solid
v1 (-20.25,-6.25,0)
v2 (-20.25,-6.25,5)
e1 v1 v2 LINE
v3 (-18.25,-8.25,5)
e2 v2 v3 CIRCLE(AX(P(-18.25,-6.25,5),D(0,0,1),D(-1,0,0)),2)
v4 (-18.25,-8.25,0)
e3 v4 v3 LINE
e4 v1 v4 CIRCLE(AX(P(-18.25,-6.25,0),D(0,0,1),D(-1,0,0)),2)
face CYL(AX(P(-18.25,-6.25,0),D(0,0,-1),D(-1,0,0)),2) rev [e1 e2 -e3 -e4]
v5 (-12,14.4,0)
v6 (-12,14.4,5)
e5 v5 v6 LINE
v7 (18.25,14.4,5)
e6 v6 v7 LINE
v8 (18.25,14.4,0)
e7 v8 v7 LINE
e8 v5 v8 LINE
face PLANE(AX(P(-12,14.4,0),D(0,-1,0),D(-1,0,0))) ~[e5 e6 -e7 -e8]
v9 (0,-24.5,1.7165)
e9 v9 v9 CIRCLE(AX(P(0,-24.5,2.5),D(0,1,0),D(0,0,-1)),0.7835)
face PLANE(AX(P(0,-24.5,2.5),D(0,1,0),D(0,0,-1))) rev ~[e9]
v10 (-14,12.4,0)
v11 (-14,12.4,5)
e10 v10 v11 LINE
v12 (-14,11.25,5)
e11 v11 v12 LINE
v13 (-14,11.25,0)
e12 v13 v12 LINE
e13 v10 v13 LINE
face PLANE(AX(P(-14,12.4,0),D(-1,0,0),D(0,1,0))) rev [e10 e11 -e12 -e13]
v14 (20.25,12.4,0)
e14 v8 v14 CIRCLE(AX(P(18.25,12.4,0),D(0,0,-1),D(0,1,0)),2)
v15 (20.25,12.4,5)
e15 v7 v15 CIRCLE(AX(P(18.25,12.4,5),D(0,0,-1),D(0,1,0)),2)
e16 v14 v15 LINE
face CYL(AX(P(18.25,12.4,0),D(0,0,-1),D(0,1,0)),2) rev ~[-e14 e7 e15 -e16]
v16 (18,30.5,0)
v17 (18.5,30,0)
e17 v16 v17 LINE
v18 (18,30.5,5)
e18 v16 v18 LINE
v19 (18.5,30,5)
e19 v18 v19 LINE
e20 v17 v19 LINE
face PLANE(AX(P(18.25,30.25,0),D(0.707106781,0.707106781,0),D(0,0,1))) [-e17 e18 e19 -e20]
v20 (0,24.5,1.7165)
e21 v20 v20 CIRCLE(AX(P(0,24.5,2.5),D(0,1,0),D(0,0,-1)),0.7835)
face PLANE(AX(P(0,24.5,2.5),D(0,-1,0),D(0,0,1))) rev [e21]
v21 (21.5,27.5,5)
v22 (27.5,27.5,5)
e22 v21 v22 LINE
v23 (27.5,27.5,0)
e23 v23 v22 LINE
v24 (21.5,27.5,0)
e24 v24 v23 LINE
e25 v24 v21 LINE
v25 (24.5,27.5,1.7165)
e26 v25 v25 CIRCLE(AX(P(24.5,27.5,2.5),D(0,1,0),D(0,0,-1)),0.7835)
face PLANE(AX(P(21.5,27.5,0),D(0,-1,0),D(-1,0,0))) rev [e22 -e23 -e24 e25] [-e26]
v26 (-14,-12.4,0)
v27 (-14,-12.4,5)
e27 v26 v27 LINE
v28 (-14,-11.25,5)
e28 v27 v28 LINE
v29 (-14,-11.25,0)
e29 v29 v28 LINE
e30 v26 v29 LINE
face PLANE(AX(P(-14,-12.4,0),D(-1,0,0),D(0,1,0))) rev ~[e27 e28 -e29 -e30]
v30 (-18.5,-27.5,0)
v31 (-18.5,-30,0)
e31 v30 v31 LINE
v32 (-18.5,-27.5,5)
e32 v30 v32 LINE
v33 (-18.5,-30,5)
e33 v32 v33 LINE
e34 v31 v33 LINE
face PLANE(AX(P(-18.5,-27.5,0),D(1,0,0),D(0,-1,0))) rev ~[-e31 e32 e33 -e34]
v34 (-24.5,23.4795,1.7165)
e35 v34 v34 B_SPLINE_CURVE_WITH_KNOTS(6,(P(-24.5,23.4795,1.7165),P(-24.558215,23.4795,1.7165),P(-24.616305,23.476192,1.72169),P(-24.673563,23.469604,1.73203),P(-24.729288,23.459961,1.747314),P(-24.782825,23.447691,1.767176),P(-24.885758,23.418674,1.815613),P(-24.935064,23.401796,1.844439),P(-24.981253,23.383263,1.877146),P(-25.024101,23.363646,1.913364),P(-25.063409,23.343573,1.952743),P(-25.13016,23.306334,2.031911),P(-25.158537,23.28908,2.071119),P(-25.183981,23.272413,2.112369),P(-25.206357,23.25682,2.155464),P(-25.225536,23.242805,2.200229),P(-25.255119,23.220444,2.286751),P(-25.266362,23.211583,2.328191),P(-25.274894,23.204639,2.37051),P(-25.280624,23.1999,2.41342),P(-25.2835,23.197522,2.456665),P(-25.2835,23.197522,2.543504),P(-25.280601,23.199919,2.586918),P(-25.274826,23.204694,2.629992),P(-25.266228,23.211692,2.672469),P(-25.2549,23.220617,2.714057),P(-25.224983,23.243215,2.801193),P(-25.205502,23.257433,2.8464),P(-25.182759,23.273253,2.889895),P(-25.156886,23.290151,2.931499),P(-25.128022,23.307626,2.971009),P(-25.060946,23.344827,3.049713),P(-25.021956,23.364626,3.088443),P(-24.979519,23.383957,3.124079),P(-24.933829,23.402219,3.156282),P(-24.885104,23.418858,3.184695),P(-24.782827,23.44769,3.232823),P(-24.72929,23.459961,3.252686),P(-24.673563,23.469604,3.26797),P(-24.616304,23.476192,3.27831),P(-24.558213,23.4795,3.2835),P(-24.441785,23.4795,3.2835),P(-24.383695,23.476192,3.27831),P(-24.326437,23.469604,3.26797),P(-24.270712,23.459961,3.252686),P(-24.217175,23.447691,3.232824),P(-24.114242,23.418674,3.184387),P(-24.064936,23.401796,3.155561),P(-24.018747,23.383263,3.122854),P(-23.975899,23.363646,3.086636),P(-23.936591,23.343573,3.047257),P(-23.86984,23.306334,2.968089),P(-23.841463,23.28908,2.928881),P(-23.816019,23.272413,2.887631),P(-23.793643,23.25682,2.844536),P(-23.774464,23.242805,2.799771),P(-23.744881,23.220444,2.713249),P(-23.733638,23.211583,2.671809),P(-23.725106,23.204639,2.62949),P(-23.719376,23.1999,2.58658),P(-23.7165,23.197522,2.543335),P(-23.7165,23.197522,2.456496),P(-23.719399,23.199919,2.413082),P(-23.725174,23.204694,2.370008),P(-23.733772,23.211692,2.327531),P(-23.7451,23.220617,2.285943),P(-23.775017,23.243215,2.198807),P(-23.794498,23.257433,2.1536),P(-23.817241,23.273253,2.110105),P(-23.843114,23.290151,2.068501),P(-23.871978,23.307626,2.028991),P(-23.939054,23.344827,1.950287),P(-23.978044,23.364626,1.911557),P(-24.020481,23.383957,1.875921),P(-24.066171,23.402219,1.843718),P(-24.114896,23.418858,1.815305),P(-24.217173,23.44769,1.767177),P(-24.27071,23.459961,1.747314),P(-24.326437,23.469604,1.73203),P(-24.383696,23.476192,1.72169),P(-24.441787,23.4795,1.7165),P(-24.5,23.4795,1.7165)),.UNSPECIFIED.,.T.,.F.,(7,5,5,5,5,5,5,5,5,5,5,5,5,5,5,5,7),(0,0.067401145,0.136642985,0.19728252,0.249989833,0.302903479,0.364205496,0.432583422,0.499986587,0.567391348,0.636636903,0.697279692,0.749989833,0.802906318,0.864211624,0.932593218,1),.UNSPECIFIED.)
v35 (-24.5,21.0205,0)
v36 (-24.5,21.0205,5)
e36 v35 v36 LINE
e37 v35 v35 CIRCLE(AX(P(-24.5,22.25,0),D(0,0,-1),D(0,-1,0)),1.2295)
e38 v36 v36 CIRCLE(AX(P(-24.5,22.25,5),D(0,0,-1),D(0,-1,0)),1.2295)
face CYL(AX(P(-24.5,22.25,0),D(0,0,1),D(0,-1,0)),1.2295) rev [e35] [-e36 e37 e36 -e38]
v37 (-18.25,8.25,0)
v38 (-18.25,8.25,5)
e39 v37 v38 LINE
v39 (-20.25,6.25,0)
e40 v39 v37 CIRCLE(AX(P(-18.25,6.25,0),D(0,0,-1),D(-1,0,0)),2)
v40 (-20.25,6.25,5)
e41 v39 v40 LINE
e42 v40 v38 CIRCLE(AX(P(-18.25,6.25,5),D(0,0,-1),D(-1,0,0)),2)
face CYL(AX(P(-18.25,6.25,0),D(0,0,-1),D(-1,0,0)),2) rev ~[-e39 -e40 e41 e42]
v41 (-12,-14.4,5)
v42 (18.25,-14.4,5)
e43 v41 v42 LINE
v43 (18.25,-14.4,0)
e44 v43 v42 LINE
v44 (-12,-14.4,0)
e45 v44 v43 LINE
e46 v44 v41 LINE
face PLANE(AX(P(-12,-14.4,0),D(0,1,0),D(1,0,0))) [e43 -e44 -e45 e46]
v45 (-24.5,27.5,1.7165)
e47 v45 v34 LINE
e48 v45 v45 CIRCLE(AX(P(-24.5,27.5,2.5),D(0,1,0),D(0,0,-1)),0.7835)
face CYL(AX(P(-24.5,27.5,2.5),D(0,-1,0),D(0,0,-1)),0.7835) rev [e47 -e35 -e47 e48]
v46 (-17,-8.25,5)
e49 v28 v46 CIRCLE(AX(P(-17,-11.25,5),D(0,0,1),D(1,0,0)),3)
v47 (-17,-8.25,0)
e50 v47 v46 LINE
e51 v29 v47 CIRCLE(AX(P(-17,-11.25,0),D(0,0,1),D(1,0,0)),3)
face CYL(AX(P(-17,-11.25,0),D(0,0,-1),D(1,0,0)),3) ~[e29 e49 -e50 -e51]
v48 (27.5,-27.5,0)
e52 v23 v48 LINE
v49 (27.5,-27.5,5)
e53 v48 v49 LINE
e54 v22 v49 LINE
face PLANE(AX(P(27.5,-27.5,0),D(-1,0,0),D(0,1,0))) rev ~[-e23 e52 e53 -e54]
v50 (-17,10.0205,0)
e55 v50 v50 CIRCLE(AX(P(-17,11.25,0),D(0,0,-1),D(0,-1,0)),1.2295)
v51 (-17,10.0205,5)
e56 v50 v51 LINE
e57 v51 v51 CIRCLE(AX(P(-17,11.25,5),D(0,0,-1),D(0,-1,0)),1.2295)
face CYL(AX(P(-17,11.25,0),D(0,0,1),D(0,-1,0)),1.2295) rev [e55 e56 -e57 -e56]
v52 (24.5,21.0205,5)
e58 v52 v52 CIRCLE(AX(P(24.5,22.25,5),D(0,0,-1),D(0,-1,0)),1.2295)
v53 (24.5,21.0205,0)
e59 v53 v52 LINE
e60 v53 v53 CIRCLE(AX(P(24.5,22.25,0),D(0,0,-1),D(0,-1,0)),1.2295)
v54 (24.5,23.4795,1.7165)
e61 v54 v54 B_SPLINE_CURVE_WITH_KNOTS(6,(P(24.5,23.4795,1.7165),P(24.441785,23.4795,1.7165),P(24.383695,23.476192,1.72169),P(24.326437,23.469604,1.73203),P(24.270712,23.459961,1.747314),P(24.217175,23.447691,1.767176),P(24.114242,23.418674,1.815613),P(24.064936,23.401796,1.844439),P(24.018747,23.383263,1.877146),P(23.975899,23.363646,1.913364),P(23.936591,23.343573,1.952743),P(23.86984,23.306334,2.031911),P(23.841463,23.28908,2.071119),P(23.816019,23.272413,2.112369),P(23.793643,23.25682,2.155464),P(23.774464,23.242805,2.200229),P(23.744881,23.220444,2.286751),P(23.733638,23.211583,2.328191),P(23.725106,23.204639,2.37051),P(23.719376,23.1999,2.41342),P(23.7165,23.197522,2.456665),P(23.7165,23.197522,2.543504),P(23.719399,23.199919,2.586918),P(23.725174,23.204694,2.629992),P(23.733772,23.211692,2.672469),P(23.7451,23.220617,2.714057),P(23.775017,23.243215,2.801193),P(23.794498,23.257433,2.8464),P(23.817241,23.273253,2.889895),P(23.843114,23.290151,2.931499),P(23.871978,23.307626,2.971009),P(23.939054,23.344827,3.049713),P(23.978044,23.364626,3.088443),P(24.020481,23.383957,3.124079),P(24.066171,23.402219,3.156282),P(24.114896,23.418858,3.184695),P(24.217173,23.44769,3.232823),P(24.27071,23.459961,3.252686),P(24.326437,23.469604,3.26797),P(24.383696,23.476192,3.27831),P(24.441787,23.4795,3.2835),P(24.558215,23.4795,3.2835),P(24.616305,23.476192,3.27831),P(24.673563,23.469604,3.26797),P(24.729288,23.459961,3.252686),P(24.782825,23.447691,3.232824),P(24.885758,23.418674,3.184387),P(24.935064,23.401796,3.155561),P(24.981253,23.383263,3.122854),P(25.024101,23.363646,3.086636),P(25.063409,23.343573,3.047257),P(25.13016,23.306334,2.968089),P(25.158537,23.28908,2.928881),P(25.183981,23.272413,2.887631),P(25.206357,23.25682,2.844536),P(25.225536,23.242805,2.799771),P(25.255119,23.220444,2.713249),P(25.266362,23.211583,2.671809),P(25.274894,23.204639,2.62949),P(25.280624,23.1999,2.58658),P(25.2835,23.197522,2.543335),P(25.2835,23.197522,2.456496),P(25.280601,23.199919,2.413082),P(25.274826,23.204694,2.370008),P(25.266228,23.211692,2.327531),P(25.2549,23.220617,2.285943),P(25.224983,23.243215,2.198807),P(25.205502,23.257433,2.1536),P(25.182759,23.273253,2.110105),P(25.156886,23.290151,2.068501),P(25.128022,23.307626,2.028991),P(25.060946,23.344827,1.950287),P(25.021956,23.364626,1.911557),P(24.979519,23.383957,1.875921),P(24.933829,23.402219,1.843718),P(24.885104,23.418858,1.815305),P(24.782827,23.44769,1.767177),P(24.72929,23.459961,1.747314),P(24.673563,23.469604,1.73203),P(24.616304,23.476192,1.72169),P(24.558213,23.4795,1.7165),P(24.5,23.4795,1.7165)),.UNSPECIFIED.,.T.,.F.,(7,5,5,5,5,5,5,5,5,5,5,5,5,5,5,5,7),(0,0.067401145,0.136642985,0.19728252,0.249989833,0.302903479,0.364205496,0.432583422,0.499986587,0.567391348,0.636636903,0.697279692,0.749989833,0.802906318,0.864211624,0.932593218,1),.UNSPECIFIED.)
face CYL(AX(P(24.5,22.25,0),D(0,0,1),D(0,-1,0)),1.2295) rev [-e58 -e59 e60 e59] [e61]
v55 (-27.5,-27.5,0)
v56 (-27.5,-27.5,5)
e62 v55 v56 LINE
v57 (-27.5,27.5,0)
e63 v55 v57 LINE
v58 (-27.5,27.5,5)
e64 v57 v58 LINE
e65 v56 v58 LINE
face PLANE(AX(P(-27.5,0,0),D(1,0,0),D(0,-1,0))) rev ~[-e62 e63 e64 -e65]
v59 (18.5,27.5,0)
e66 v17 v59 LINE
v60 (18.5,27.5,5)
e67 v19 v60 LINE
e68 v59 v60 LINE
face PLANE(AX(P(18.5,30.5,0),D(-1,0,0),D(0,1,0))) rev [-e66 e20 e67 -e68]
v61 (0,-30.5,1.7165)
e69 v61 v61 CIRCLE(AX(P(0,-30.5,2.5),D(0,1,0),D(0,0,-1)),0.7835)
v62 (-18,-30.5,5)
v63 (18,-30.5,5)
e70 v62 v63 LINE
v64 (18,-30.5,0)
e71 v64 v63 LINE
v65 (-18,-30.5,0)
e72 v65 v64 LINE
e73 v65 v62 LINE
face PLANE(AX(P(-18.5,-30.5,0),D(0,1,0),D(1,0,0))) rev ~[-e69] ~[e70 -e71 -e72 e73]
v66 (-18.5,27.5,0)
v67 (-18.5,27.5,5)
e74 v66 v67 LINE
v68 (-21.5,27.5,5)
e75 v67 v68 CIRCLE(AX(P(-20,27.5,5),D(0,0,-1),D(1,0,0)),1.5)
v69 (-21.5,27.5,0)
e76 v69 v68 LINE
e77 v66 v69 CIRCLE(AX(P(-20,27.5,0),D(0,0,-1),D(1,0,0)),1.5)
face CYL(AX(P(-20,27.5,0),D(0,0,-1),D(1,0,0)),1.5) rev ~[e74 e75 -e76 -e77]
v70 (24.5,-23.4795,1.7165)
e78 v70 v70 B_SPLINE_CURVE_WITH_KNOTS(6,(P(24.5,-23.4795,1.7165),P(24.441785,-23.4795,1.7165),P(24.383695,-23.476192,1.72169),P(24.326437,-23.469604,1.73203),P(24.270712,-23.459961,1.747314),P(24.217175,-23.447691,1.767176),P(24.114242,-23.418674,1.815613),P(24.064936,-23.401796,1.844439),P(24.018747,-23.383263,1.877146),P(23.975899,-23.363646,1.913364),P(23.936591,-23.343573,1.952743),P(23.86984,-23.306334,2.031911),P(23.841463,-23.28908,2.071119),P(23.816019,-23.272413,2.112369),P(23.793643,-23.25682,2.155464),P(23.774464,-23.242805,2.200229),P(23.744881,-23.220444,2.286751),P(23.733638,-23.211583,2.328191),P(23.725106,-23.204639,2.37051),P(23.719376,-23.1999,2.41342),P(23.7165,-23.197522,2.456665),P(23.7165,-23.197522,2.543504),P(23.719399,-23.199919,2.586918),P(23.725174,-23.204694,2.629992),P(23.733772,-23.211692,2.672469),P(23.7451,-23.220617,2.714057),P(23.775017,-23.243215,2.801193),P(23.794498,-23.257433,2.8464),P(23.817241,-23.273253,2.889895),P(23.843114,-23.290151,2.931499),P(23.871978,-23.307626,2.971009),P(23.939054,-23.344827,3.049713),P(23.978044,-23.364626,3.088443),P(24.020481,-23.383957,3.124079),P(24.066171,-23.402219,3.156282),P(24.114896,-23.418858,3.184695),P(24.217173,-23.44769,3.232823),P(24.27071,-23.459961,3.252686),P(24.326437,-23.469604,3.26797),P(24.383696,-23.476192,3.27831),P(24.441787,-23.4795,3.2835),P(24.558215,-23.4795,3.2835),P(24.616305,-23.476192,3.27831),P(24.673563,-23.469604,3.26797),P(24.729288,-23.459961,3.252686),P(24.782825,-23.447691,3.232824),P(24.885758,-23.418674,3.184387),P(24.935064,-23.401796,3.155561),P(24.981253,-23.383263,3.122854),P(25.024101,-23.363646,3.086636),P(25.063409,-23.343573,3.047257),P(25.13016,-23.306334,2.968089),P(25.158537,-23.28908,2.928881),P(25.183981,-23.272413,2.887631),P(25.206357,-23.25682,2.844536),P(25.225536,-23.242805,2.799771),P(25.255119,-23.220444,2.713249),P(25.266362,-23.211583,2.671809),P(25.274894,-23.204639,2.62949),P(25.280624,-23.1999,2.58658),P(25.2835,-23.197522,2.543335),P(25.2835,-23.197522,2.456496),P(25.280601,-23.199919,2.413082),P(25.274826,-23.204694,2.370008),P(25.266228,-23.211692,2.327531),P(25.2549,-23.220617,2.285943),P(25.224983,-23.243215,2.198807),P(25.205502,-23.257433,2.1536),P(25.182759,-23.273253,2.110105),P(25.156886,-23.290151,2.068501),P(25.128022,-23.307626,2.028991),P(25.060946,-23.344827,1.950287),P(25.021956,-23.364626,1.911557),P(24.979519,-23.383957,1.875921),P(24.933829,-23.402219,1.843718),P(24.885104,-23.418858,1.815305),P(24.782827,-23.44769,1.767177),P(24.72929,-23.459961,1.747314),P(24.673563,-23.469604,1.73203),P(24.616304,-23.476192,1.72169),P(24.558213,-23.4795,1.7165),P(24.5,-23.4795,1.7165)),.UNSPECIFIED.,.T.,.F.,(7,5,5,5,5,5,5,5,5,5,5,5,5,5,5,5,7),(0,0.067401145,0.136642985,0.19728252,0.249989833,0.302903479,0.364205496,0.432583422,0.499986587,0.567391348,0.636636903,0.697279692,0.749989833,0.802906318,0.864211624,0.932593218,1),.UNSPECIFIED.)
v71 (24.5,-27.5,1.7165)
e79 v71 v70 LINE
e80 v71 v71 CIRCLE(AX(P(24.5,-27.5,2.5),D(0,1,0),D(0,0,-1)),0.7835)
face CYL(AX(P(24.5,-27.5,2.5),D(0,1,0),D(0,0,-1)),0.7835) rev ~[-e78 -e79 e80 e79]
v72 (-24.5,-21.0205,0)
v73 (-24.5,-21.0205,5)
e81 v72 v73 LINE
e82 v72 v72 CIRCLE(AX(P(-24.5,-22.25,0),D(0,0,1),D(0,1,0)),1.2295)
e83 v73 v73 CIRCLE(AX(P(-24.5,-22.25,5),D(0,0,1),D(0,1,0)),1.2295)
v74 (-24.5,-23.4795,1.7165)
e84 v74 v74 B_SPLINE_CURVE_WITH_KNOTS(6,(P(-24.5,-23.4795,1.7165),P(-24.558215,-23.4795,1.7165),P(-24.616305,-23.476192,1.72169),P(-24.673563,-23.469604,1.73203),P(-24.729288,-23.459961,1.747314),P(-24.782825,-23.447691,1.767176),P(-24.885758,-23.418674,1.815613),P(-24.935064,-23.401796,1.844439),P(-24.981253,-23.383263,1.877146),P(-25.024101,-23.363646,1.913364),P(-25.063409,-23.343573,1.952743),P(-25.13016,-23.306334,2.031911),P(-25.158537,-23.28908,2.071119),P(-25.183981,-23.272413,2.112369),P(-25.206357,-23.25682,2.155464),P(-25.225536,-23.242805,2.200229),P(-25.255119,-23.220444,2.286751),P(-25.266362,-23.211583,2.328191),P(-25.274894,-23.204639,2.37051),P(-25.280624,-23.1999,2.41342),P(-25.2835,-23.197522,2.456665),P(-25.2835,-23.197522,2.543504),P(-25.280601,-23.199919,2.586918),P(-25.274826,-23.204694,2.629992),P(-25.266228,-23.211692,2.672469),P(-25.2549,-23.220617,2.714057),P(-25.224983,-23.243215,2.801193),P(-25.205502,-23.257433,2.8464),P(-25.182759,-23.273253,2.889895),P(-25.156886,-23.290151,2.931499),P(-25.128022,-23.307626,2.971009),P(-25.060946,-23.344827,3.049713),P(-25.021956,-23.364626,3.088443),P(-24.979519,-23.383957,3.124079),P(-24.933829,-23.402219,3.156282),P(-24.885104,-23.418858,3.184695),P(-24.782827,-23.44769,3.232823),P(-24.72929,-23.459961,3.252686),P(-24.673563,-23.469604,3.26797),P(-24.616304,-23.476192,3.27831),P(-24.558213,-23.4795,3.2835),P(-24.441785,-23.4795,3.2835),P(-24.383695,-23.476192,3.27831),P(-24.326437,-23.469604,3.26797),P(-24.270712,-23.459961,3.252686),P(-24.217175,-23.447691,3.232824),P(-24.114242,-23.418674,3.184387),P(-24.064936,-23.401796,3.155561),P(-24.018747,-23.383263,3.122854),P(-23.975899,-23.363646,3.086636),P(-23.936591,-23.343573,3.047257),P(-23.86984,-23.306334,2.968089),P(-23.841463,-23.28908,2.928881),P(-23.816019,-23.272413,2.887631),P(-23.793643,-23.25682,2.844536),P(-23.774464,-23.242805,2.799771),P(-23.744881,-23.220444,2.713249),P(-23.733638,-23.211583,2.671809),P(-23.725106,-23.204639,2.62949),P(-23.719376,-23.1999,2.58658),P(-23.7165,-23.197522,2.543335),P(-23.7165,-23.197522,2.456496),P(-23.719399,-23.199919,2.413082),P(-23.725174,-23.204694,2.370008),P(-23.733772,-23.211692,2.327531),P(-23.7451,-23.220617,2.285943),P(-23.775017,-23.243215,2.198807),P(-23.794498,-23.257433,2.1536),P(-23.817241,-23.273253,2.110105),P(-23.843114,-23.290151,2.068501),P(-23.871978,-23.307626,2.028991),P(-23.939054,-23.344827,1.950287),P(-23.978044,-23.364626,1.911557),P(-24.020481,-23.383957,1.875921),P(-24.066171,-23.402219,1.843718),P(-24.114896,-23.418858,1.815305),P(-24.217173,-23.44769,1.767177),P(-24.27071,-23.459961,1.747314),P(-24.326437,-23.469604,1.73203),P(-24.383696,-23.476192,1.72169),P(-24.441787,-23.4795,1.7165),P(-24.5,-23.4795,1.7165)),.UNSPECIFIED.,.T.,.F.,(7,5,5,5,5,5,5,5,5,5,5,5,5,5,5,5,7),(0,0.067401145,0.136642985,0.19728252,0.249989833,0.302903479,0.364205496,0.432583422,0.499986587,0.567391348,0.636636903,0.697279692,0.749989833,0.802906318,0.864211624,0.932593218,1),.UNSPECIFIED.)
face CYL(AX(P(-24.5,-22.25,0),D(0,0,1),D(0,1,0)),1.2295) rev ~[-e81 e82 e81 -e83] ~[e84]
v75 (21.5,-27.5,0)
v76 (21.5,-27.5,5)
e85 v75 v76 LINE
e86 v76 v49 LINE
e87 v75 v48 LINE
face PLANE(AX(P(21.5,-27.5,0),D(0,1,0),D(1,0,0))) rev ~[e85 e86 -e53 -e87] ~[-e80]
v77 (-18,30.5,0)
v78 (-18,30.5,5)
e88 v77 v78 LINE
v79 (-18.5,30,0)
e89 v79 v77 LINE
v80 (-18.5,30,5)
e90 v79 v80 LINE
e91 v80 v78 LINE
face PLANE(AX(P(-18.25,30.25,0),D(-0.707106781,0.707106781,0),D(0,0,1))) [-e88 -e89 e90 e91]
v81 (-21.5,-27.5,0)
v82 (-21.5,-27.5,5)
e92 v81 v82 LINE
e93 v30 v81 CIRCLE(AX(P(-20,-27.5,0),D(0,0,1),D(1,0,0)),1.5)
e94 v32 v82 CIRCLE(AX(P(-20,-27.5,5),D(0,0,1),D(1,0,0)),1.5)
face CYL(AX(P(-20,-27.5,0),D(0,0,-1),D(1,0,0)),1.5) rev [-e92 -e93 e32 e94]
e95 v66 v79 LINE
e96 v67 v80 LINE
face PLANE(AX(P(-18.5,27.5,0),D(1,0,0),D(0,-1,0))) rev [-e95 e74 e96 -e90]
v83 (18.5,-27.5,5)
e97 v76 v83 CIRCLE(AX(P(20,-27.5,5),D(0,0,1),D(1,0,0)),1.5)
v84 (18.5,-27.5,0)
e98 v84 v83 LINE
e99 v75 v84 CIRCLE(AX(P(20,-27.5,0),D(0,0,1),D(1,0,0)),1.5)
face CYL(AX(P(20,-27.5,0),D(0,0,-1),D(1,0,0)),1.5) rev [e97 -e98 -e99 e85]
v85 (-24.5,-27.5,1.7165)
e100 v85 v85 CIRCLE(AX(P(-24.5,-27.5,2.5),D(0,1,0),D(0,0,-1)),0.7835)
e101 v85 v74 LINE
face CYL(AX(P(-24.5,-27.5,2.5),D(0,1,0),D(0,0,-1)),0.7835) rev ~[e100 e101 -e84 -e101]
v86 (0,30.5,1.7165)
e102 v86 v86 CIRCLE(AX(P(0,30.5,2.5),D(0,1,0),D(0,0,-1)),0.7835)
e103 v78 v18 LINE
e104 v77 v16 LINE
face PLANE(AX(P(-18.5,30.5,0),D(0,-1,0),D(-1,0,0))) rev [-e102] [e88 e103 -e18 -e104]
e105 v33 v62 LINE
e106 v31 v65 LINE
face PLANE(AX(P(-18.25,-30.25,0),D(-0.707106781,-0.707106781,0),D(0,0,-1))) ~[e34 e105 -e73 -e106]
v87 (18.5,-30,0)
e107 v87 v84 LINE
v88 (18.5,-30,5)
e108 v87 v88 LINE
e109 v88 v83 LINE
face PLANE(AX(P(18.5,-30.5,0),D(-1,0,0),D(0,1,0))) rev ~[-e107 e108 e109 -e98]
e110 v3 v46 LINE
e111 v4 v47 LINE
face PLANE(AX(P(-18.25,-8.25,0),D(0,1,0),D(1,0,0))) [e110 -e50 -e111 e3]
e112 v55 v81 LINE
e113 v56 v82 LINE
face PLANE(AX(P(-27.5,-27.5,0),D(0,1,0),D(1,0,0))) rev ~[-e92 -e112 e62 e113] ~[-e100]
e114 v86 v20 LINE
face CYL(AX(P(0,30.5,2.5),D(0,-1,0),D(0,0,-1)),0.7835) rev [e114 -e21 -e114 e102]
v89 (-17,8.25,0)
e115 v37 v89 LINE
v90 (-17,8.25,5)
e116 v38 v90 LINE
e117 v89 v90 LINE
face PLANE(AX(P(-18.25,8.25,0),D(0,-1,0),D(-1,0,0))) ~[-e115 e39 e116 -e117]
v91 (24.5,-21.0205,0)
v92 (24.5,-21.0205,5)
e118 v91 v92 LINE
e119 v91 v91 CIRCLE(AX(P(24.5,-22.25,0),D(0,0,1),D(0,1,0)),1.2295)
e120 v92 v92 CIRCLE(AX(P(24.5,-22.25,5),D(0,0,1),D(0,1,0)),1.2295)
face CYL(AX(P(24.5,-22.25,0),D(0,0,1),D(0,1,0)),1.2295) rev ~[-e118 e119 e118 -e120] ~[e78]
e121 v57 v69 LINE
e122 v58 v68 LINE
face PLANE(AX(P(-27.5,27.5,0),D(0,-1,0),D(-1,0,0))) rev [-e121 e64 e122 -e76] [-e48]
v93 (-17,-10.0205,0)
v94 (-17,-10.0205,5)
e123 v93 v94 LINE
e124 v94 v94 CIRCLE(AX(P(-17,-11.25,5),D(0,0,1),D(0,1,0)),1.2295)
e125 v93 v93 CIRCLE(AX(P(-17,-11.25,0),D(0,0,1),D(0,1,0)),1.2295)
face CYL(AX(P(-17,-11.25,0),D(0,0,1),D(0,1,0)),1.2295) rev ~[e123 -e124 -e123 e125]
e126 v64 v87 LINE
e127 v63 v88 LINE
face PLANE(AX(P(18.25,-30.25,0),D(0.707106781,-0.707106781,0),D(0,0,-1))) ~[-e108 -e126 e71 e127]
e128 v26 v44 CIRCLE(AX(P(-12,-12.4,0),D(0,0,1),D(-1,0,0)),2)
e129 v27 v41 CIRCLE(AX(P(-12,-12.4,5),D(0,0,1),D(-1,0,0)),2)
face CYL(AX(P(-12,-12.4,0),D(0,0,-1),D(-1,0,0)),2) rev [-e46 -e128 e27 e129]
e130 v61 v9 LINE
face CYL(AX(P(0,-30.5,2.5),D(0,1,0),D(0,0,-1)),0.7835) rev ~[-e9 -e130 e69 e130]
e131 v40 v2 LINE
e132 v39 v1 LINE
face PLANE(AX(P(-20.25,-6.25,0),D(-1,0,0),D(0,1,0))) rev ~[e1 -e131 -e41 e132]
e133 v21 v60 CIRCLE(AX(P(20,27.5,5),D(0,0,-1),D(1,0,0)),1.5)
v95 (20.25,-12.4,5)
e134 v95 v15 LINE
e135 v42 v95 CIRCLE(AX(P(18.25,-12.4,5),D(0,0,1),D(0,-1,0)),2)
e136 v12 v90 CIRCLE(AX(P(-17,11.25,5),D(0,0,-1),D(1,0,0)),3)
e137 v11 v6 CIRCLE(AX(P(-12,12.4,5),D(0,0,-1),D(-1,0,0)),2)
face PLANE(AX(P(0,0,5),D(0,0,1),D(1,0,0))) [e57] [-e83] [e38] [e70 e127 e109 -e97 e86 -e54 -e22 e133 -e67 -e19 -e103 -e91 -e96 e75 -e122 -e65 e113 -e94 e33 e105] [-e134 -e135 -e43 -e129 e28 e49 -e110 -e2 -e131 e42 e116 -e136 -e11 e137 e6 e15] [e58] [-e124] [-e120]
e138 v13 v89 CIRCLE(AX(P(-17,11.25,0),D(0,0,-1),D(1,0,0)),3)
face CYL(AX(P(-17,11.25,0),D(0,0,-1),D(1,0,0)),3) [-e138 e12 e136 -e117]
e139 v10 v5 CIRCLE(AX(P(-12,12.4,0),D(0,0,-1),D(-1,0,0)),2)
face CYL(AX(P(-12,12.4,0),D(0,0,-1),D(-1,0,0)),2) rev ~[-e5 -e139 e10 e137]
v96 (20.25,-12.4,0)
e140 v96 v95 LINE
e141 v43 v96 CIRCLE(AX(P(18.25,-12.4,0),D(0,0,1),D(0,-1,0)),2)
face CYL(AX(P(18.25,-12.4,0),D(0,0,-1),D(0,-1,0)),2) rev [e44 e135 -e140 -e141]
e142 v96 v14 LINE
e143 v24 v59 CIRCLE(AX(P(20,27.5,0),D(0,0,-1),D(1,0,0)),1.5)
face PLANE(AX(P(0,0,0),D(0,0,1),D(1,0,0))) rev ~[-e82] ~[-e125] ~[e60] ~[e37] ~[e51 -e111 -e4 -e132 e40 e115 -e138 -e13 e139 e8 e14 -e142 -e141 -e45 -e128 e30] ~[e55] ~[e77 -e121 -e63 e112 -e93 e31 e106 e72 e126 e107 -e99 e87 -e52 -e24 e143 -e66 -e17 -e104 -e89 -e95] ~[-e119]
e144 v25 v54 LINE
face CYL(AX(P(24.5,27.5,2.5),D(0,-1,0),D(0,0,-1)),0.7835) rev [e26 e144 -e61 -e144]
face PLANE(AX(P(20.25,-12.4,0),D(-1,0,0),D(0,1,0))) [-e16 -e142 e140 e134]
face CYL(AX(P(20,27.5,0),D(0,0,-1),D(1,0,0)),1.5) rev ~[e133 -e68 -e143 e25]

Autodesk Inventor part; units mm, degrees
ref_plane "YZ Plane" through (0, 0, 0) normal (1, 0, 0) x (0, 1, 0)
ref_plane "XZ Plane" through (0, 0, 0) normal (0, 1, 0) x (-1, 0, 0)
ref_plane "XY Plane" through (0, 0, 0) normal (0, 0, 1) x (1, 0, 0)
sketch "Sketch1" plane through (0, 0, 0) normal (0, 0, 1) x (1, 0, 0)
  line L0 (-27.5, -27.5) -> (27.5, -27.5)
  line L1 (27.5, -27.5) -> (27.5, 27.5)
  line L2 (27.5, 27.5) -> (-27.5, 27.5)
  line L3 (-27.5, 27.5) -> (-27.5, -27.5)
  line L4 (-27.5, -27.5) -> (27.5, 27.5) construction
  line L5 (27.5, -27.5) -> (-27.5, 27.5) construction
  line L6 (-20, 14.15) -> (20, 14.15) construction
  line L7 (20, 14.15) -> (20, -14.15) construction
  line L8 (20, -14.15) -> (-20, -14.15) construction
  line L9 (-20, -14.15) -> (-20, 14.15) construction
  line L10 (-20, 14.15) -> (20, -14.15) construction
  line L11 (20, 14.15) -> (-20, -14.15) construction
  line L12 (0, -27.5) -> (0, 27.5) construction
  line L13 (-27.5, 0) -> (27.5, 0)
  line L14 (17, 11.25) -> (-17, 11.25) construction
  line L15 (-17, 11.25) -> (-17, -11.25) construction
  line L16 (-17, -11.25) -> (17, -11.25) construction
  line L17 (17, -11.25) -> (17, 11.25) construction
  line L18 (17, 11.25) -> (-17, -11.25) construction
  line L19 (-17, 11.25) -> (17, -11.25) construction
  line L20 (20.25, -12.4) -> (20.25, 12.4)
  line L21 (-18.5, -27.5) -> (-18.5, -30.5)
  line L22 (-18.5, -30.5) -> (18.5, -30.5)
  line L23 (18.5, -30.5) -> (18.5, -27.5)
  arc A0 (-18.5, -27.5) -> (-21.5, -27.5) centre (-20, -27.5) ccw
  line L24 (-24.5, -27.5) -> (-24.5, -21.5) construction
  arc A1 (21.5, -27.5) -> (18.5, -27.5) centre (20, -27.5) ccw
  line L25 (24.5, -27.5) -> (24.5, -21.5) construction
  line L26 (-18.5, 27.5) -> (-18.5, 30.5)
  line L27 (-18.5, 30.5) -> (18.5, 30.5)
  line L28 (18.5, 30.5) -> (18.5, 27.5)
  arc A2 (-21.5, 27.5) -> (-18.5, 27.5) centre (-20, 27.5) ccw
  line L29 (-24.5, 27.5) -> (-24.5, 21.5) construction
  arc A3 (18.5, 27.5) -> (21.5, 27.5) centre (20, 27.5) ccw
  line L30 (24.5, 27.5) -> (24.5, 21.5) construction
  line L31 (-12, -14.4) -> (18.25, -14.4)
  line L32 (-14, -12.4) -> (-14, -11.25)
  line L33 (-18.25, -8.25) -> (-17, -8.25)
  line L34 (-20.25, -6.25) -> (-20.25, 6.25)
  arc A4 (-14, -11.25) -> (-17, -8.25) centre (-17, -11.25) ccw
  line L35 (-12, 14.4) -> (18.25, 14.4)
  line L36 (-14, 12.4) -> (-14, 11.25)
  line L37 (-18.25, 8.25) -> (-17, 8.25)
  arc A5 (-17, 8.25) -> (-14, 11.25) centre (-17, 11.25) ccw
  arc A6 (-20.25, -6.25) -> (-18.25, -8.25) centre (-18.25, -6.25) ccw
  arc A7 (-14, -12.4) -> (-12, -14.4) centre (-12, -12.4) ccw
  arc A8 (18.25, -14.4) -> (20.25, -12.4) centre (18.25, -12.4) ccw
  arc A9 (20.25, 12.4) -> (18.25, 14.4) centre (18.25, 12.4) ccw
  arc A10 (-12, 14.4) -> (-14, 12.4) centre (-12, 12.4) ccw
  arc A11 (-18.25, 8.25) -> (-20.25, 6.25) centre (-18.25, 6.25) ccw
  line L38 (24.5, 22.25) -> (-24.5, 22.25) construction
  line L39 (-24.5, 22.25) -> (-24.5, -22.25) construction
  line L40 (-24.5, -22.25) -> (24.5, -22.25) construction
  line L41 (24.5, -22.25) -> (24.5, 22.25) construction
  line L42 (24.5, 22.25) -> (-24.5, -22.25) construction
  line L43 (-24.5, 22.25) -> (24.5, -22.25) construction
  line L44 (32.5, 26.5) -> (-32.5, 26.5) construction
  line L45 (-32.5, 26.5) -> (-32.5, -26.5) construction
  line L46 (-32.5, -26.5) -> (32.5, -26.5) construction
  line L47 (32.5, -26.5) -> (32.5, 26.5) construction
  line L48 (32.5, 26.5) -> (-32.5, -26.5) construction
  line L49 (-32.5, 26.5) -> (32.5, -26.5) construction
  circle A12 centre (-24.5, -22.25) radius 1.5 construction
  point P0 (0, 0)
  point P1 (21.5, 27.5)
  point P2 (-21.5, 27.5)
  point P3 (21.5, -27.5)
  point P4 (20.25, 0)
  point P5 (-14, -14.4)
  point P6 (20.25, -14.4)
  point P7 (-20.25, -8.25)
  point P8 (-14, 14.4)
  point P9 (20.25, 14.4)
  point P10 (-20.25, 8.25)
  point P11 (-20.25, 0)
  dimension "d0" = 55
  dimension "d1" = 55
  dimension "d2" = 40
  dimension "d3" = 28.3
  dimension "d4" = 34
  dimension "d5" = 22.5
  dimension "d8" = 1.5
  dimension "d9" = 6
  dimension "d10" = 6
  dimension "d11" = 3
  dimension "d35" = 6
  dimension "d36" = 0.25
  dimension "d37" = 0.25
  dimension "d38" = 2
  dimension "d39" = 6
  dimension "d40" = 8.5
  dimension "d41" = 16
  dimension "d42" = 1
  dimension "d43" = 3
  dimension "d44" = 3.75
  dimension "d45" = 49
extrude "Extrusion1" add sketch "Sketch1" along normal blind 5 contours L3 L13 L34 A6 L33 A4 L32 A7 L31 A8 L20 L1 L0 A1 A0 | L0 L23 L22 L21
hole "M3" at (-17, -11.25, 0) at (-24.5, -22.25, 0) at (24.5, -22.25, 0) direction (0, 0, 1) diameter 2.459 end through all thread size "M3x0.5" class "6H" standard "ANSI Metric M Profile"
chamfer "C0.5" distance 0.5 angle 45 2 edges at (-18.5, -30.5, 2.5) (18.5, -30.5, 2.5)
sketch "Sketch3" plane through (-18, -30.5, 0) normal (0, -1, 0) x (1, 0, 0)
  line L0 (18, 0) -> (18, 5)
  line L1 (0, 5) -> (36, 5) projected
  point P0 (18, 2.5)
sketch "Sketch2" plane through (21.5, -27.5, 0) normal (0, -1, 0) x (1, 0, 0)
  line L0 (3, 0) -> (3, 5)
  line L1 (-49, 5) -> (6, 5) projected
  line L2 (-46, 0) -> (-46, 5)
  line L3 (-49, 5) -> (6, 5) projected
  line L4 (0, 0) -> (6, 0) projected
  line L5 (-49, 0) -> (-43, 0) projected
  point P0 (0, 5)
  point P1 (-43, 5)
  point P2 (-46, 2.5)
  point P3 (3, 2.5)
  point P4 (3, 0)
  point P5 (3, 0)
  point P6 (3, 0)
hole "Side-M2-6(1)" at (24.5, -27.5, 2.5) at (-24.5, -27.5, 2.5) direction (0, 1, 0) diameter 1.567 depth 6 thread size "M2x0.4" class "6H" standard "ANSI Metric M Profile"
hole "Side-M2-6(2)" at (0, -30.5, 2.5) direction (0, 1, 0) diameter 1.567 depth 6 thread size "M2x0.4" class "6H" standard "ANSI Metric M Profile"
mirror "Mirror1" about plane through (0, 0, 0) normal (0, 1, 0)
equation "\"d37\" = d36"
equation "\"d26\" = d9"
properties part number "HeadUpperFrame" material "Acetal Resin, Black"
